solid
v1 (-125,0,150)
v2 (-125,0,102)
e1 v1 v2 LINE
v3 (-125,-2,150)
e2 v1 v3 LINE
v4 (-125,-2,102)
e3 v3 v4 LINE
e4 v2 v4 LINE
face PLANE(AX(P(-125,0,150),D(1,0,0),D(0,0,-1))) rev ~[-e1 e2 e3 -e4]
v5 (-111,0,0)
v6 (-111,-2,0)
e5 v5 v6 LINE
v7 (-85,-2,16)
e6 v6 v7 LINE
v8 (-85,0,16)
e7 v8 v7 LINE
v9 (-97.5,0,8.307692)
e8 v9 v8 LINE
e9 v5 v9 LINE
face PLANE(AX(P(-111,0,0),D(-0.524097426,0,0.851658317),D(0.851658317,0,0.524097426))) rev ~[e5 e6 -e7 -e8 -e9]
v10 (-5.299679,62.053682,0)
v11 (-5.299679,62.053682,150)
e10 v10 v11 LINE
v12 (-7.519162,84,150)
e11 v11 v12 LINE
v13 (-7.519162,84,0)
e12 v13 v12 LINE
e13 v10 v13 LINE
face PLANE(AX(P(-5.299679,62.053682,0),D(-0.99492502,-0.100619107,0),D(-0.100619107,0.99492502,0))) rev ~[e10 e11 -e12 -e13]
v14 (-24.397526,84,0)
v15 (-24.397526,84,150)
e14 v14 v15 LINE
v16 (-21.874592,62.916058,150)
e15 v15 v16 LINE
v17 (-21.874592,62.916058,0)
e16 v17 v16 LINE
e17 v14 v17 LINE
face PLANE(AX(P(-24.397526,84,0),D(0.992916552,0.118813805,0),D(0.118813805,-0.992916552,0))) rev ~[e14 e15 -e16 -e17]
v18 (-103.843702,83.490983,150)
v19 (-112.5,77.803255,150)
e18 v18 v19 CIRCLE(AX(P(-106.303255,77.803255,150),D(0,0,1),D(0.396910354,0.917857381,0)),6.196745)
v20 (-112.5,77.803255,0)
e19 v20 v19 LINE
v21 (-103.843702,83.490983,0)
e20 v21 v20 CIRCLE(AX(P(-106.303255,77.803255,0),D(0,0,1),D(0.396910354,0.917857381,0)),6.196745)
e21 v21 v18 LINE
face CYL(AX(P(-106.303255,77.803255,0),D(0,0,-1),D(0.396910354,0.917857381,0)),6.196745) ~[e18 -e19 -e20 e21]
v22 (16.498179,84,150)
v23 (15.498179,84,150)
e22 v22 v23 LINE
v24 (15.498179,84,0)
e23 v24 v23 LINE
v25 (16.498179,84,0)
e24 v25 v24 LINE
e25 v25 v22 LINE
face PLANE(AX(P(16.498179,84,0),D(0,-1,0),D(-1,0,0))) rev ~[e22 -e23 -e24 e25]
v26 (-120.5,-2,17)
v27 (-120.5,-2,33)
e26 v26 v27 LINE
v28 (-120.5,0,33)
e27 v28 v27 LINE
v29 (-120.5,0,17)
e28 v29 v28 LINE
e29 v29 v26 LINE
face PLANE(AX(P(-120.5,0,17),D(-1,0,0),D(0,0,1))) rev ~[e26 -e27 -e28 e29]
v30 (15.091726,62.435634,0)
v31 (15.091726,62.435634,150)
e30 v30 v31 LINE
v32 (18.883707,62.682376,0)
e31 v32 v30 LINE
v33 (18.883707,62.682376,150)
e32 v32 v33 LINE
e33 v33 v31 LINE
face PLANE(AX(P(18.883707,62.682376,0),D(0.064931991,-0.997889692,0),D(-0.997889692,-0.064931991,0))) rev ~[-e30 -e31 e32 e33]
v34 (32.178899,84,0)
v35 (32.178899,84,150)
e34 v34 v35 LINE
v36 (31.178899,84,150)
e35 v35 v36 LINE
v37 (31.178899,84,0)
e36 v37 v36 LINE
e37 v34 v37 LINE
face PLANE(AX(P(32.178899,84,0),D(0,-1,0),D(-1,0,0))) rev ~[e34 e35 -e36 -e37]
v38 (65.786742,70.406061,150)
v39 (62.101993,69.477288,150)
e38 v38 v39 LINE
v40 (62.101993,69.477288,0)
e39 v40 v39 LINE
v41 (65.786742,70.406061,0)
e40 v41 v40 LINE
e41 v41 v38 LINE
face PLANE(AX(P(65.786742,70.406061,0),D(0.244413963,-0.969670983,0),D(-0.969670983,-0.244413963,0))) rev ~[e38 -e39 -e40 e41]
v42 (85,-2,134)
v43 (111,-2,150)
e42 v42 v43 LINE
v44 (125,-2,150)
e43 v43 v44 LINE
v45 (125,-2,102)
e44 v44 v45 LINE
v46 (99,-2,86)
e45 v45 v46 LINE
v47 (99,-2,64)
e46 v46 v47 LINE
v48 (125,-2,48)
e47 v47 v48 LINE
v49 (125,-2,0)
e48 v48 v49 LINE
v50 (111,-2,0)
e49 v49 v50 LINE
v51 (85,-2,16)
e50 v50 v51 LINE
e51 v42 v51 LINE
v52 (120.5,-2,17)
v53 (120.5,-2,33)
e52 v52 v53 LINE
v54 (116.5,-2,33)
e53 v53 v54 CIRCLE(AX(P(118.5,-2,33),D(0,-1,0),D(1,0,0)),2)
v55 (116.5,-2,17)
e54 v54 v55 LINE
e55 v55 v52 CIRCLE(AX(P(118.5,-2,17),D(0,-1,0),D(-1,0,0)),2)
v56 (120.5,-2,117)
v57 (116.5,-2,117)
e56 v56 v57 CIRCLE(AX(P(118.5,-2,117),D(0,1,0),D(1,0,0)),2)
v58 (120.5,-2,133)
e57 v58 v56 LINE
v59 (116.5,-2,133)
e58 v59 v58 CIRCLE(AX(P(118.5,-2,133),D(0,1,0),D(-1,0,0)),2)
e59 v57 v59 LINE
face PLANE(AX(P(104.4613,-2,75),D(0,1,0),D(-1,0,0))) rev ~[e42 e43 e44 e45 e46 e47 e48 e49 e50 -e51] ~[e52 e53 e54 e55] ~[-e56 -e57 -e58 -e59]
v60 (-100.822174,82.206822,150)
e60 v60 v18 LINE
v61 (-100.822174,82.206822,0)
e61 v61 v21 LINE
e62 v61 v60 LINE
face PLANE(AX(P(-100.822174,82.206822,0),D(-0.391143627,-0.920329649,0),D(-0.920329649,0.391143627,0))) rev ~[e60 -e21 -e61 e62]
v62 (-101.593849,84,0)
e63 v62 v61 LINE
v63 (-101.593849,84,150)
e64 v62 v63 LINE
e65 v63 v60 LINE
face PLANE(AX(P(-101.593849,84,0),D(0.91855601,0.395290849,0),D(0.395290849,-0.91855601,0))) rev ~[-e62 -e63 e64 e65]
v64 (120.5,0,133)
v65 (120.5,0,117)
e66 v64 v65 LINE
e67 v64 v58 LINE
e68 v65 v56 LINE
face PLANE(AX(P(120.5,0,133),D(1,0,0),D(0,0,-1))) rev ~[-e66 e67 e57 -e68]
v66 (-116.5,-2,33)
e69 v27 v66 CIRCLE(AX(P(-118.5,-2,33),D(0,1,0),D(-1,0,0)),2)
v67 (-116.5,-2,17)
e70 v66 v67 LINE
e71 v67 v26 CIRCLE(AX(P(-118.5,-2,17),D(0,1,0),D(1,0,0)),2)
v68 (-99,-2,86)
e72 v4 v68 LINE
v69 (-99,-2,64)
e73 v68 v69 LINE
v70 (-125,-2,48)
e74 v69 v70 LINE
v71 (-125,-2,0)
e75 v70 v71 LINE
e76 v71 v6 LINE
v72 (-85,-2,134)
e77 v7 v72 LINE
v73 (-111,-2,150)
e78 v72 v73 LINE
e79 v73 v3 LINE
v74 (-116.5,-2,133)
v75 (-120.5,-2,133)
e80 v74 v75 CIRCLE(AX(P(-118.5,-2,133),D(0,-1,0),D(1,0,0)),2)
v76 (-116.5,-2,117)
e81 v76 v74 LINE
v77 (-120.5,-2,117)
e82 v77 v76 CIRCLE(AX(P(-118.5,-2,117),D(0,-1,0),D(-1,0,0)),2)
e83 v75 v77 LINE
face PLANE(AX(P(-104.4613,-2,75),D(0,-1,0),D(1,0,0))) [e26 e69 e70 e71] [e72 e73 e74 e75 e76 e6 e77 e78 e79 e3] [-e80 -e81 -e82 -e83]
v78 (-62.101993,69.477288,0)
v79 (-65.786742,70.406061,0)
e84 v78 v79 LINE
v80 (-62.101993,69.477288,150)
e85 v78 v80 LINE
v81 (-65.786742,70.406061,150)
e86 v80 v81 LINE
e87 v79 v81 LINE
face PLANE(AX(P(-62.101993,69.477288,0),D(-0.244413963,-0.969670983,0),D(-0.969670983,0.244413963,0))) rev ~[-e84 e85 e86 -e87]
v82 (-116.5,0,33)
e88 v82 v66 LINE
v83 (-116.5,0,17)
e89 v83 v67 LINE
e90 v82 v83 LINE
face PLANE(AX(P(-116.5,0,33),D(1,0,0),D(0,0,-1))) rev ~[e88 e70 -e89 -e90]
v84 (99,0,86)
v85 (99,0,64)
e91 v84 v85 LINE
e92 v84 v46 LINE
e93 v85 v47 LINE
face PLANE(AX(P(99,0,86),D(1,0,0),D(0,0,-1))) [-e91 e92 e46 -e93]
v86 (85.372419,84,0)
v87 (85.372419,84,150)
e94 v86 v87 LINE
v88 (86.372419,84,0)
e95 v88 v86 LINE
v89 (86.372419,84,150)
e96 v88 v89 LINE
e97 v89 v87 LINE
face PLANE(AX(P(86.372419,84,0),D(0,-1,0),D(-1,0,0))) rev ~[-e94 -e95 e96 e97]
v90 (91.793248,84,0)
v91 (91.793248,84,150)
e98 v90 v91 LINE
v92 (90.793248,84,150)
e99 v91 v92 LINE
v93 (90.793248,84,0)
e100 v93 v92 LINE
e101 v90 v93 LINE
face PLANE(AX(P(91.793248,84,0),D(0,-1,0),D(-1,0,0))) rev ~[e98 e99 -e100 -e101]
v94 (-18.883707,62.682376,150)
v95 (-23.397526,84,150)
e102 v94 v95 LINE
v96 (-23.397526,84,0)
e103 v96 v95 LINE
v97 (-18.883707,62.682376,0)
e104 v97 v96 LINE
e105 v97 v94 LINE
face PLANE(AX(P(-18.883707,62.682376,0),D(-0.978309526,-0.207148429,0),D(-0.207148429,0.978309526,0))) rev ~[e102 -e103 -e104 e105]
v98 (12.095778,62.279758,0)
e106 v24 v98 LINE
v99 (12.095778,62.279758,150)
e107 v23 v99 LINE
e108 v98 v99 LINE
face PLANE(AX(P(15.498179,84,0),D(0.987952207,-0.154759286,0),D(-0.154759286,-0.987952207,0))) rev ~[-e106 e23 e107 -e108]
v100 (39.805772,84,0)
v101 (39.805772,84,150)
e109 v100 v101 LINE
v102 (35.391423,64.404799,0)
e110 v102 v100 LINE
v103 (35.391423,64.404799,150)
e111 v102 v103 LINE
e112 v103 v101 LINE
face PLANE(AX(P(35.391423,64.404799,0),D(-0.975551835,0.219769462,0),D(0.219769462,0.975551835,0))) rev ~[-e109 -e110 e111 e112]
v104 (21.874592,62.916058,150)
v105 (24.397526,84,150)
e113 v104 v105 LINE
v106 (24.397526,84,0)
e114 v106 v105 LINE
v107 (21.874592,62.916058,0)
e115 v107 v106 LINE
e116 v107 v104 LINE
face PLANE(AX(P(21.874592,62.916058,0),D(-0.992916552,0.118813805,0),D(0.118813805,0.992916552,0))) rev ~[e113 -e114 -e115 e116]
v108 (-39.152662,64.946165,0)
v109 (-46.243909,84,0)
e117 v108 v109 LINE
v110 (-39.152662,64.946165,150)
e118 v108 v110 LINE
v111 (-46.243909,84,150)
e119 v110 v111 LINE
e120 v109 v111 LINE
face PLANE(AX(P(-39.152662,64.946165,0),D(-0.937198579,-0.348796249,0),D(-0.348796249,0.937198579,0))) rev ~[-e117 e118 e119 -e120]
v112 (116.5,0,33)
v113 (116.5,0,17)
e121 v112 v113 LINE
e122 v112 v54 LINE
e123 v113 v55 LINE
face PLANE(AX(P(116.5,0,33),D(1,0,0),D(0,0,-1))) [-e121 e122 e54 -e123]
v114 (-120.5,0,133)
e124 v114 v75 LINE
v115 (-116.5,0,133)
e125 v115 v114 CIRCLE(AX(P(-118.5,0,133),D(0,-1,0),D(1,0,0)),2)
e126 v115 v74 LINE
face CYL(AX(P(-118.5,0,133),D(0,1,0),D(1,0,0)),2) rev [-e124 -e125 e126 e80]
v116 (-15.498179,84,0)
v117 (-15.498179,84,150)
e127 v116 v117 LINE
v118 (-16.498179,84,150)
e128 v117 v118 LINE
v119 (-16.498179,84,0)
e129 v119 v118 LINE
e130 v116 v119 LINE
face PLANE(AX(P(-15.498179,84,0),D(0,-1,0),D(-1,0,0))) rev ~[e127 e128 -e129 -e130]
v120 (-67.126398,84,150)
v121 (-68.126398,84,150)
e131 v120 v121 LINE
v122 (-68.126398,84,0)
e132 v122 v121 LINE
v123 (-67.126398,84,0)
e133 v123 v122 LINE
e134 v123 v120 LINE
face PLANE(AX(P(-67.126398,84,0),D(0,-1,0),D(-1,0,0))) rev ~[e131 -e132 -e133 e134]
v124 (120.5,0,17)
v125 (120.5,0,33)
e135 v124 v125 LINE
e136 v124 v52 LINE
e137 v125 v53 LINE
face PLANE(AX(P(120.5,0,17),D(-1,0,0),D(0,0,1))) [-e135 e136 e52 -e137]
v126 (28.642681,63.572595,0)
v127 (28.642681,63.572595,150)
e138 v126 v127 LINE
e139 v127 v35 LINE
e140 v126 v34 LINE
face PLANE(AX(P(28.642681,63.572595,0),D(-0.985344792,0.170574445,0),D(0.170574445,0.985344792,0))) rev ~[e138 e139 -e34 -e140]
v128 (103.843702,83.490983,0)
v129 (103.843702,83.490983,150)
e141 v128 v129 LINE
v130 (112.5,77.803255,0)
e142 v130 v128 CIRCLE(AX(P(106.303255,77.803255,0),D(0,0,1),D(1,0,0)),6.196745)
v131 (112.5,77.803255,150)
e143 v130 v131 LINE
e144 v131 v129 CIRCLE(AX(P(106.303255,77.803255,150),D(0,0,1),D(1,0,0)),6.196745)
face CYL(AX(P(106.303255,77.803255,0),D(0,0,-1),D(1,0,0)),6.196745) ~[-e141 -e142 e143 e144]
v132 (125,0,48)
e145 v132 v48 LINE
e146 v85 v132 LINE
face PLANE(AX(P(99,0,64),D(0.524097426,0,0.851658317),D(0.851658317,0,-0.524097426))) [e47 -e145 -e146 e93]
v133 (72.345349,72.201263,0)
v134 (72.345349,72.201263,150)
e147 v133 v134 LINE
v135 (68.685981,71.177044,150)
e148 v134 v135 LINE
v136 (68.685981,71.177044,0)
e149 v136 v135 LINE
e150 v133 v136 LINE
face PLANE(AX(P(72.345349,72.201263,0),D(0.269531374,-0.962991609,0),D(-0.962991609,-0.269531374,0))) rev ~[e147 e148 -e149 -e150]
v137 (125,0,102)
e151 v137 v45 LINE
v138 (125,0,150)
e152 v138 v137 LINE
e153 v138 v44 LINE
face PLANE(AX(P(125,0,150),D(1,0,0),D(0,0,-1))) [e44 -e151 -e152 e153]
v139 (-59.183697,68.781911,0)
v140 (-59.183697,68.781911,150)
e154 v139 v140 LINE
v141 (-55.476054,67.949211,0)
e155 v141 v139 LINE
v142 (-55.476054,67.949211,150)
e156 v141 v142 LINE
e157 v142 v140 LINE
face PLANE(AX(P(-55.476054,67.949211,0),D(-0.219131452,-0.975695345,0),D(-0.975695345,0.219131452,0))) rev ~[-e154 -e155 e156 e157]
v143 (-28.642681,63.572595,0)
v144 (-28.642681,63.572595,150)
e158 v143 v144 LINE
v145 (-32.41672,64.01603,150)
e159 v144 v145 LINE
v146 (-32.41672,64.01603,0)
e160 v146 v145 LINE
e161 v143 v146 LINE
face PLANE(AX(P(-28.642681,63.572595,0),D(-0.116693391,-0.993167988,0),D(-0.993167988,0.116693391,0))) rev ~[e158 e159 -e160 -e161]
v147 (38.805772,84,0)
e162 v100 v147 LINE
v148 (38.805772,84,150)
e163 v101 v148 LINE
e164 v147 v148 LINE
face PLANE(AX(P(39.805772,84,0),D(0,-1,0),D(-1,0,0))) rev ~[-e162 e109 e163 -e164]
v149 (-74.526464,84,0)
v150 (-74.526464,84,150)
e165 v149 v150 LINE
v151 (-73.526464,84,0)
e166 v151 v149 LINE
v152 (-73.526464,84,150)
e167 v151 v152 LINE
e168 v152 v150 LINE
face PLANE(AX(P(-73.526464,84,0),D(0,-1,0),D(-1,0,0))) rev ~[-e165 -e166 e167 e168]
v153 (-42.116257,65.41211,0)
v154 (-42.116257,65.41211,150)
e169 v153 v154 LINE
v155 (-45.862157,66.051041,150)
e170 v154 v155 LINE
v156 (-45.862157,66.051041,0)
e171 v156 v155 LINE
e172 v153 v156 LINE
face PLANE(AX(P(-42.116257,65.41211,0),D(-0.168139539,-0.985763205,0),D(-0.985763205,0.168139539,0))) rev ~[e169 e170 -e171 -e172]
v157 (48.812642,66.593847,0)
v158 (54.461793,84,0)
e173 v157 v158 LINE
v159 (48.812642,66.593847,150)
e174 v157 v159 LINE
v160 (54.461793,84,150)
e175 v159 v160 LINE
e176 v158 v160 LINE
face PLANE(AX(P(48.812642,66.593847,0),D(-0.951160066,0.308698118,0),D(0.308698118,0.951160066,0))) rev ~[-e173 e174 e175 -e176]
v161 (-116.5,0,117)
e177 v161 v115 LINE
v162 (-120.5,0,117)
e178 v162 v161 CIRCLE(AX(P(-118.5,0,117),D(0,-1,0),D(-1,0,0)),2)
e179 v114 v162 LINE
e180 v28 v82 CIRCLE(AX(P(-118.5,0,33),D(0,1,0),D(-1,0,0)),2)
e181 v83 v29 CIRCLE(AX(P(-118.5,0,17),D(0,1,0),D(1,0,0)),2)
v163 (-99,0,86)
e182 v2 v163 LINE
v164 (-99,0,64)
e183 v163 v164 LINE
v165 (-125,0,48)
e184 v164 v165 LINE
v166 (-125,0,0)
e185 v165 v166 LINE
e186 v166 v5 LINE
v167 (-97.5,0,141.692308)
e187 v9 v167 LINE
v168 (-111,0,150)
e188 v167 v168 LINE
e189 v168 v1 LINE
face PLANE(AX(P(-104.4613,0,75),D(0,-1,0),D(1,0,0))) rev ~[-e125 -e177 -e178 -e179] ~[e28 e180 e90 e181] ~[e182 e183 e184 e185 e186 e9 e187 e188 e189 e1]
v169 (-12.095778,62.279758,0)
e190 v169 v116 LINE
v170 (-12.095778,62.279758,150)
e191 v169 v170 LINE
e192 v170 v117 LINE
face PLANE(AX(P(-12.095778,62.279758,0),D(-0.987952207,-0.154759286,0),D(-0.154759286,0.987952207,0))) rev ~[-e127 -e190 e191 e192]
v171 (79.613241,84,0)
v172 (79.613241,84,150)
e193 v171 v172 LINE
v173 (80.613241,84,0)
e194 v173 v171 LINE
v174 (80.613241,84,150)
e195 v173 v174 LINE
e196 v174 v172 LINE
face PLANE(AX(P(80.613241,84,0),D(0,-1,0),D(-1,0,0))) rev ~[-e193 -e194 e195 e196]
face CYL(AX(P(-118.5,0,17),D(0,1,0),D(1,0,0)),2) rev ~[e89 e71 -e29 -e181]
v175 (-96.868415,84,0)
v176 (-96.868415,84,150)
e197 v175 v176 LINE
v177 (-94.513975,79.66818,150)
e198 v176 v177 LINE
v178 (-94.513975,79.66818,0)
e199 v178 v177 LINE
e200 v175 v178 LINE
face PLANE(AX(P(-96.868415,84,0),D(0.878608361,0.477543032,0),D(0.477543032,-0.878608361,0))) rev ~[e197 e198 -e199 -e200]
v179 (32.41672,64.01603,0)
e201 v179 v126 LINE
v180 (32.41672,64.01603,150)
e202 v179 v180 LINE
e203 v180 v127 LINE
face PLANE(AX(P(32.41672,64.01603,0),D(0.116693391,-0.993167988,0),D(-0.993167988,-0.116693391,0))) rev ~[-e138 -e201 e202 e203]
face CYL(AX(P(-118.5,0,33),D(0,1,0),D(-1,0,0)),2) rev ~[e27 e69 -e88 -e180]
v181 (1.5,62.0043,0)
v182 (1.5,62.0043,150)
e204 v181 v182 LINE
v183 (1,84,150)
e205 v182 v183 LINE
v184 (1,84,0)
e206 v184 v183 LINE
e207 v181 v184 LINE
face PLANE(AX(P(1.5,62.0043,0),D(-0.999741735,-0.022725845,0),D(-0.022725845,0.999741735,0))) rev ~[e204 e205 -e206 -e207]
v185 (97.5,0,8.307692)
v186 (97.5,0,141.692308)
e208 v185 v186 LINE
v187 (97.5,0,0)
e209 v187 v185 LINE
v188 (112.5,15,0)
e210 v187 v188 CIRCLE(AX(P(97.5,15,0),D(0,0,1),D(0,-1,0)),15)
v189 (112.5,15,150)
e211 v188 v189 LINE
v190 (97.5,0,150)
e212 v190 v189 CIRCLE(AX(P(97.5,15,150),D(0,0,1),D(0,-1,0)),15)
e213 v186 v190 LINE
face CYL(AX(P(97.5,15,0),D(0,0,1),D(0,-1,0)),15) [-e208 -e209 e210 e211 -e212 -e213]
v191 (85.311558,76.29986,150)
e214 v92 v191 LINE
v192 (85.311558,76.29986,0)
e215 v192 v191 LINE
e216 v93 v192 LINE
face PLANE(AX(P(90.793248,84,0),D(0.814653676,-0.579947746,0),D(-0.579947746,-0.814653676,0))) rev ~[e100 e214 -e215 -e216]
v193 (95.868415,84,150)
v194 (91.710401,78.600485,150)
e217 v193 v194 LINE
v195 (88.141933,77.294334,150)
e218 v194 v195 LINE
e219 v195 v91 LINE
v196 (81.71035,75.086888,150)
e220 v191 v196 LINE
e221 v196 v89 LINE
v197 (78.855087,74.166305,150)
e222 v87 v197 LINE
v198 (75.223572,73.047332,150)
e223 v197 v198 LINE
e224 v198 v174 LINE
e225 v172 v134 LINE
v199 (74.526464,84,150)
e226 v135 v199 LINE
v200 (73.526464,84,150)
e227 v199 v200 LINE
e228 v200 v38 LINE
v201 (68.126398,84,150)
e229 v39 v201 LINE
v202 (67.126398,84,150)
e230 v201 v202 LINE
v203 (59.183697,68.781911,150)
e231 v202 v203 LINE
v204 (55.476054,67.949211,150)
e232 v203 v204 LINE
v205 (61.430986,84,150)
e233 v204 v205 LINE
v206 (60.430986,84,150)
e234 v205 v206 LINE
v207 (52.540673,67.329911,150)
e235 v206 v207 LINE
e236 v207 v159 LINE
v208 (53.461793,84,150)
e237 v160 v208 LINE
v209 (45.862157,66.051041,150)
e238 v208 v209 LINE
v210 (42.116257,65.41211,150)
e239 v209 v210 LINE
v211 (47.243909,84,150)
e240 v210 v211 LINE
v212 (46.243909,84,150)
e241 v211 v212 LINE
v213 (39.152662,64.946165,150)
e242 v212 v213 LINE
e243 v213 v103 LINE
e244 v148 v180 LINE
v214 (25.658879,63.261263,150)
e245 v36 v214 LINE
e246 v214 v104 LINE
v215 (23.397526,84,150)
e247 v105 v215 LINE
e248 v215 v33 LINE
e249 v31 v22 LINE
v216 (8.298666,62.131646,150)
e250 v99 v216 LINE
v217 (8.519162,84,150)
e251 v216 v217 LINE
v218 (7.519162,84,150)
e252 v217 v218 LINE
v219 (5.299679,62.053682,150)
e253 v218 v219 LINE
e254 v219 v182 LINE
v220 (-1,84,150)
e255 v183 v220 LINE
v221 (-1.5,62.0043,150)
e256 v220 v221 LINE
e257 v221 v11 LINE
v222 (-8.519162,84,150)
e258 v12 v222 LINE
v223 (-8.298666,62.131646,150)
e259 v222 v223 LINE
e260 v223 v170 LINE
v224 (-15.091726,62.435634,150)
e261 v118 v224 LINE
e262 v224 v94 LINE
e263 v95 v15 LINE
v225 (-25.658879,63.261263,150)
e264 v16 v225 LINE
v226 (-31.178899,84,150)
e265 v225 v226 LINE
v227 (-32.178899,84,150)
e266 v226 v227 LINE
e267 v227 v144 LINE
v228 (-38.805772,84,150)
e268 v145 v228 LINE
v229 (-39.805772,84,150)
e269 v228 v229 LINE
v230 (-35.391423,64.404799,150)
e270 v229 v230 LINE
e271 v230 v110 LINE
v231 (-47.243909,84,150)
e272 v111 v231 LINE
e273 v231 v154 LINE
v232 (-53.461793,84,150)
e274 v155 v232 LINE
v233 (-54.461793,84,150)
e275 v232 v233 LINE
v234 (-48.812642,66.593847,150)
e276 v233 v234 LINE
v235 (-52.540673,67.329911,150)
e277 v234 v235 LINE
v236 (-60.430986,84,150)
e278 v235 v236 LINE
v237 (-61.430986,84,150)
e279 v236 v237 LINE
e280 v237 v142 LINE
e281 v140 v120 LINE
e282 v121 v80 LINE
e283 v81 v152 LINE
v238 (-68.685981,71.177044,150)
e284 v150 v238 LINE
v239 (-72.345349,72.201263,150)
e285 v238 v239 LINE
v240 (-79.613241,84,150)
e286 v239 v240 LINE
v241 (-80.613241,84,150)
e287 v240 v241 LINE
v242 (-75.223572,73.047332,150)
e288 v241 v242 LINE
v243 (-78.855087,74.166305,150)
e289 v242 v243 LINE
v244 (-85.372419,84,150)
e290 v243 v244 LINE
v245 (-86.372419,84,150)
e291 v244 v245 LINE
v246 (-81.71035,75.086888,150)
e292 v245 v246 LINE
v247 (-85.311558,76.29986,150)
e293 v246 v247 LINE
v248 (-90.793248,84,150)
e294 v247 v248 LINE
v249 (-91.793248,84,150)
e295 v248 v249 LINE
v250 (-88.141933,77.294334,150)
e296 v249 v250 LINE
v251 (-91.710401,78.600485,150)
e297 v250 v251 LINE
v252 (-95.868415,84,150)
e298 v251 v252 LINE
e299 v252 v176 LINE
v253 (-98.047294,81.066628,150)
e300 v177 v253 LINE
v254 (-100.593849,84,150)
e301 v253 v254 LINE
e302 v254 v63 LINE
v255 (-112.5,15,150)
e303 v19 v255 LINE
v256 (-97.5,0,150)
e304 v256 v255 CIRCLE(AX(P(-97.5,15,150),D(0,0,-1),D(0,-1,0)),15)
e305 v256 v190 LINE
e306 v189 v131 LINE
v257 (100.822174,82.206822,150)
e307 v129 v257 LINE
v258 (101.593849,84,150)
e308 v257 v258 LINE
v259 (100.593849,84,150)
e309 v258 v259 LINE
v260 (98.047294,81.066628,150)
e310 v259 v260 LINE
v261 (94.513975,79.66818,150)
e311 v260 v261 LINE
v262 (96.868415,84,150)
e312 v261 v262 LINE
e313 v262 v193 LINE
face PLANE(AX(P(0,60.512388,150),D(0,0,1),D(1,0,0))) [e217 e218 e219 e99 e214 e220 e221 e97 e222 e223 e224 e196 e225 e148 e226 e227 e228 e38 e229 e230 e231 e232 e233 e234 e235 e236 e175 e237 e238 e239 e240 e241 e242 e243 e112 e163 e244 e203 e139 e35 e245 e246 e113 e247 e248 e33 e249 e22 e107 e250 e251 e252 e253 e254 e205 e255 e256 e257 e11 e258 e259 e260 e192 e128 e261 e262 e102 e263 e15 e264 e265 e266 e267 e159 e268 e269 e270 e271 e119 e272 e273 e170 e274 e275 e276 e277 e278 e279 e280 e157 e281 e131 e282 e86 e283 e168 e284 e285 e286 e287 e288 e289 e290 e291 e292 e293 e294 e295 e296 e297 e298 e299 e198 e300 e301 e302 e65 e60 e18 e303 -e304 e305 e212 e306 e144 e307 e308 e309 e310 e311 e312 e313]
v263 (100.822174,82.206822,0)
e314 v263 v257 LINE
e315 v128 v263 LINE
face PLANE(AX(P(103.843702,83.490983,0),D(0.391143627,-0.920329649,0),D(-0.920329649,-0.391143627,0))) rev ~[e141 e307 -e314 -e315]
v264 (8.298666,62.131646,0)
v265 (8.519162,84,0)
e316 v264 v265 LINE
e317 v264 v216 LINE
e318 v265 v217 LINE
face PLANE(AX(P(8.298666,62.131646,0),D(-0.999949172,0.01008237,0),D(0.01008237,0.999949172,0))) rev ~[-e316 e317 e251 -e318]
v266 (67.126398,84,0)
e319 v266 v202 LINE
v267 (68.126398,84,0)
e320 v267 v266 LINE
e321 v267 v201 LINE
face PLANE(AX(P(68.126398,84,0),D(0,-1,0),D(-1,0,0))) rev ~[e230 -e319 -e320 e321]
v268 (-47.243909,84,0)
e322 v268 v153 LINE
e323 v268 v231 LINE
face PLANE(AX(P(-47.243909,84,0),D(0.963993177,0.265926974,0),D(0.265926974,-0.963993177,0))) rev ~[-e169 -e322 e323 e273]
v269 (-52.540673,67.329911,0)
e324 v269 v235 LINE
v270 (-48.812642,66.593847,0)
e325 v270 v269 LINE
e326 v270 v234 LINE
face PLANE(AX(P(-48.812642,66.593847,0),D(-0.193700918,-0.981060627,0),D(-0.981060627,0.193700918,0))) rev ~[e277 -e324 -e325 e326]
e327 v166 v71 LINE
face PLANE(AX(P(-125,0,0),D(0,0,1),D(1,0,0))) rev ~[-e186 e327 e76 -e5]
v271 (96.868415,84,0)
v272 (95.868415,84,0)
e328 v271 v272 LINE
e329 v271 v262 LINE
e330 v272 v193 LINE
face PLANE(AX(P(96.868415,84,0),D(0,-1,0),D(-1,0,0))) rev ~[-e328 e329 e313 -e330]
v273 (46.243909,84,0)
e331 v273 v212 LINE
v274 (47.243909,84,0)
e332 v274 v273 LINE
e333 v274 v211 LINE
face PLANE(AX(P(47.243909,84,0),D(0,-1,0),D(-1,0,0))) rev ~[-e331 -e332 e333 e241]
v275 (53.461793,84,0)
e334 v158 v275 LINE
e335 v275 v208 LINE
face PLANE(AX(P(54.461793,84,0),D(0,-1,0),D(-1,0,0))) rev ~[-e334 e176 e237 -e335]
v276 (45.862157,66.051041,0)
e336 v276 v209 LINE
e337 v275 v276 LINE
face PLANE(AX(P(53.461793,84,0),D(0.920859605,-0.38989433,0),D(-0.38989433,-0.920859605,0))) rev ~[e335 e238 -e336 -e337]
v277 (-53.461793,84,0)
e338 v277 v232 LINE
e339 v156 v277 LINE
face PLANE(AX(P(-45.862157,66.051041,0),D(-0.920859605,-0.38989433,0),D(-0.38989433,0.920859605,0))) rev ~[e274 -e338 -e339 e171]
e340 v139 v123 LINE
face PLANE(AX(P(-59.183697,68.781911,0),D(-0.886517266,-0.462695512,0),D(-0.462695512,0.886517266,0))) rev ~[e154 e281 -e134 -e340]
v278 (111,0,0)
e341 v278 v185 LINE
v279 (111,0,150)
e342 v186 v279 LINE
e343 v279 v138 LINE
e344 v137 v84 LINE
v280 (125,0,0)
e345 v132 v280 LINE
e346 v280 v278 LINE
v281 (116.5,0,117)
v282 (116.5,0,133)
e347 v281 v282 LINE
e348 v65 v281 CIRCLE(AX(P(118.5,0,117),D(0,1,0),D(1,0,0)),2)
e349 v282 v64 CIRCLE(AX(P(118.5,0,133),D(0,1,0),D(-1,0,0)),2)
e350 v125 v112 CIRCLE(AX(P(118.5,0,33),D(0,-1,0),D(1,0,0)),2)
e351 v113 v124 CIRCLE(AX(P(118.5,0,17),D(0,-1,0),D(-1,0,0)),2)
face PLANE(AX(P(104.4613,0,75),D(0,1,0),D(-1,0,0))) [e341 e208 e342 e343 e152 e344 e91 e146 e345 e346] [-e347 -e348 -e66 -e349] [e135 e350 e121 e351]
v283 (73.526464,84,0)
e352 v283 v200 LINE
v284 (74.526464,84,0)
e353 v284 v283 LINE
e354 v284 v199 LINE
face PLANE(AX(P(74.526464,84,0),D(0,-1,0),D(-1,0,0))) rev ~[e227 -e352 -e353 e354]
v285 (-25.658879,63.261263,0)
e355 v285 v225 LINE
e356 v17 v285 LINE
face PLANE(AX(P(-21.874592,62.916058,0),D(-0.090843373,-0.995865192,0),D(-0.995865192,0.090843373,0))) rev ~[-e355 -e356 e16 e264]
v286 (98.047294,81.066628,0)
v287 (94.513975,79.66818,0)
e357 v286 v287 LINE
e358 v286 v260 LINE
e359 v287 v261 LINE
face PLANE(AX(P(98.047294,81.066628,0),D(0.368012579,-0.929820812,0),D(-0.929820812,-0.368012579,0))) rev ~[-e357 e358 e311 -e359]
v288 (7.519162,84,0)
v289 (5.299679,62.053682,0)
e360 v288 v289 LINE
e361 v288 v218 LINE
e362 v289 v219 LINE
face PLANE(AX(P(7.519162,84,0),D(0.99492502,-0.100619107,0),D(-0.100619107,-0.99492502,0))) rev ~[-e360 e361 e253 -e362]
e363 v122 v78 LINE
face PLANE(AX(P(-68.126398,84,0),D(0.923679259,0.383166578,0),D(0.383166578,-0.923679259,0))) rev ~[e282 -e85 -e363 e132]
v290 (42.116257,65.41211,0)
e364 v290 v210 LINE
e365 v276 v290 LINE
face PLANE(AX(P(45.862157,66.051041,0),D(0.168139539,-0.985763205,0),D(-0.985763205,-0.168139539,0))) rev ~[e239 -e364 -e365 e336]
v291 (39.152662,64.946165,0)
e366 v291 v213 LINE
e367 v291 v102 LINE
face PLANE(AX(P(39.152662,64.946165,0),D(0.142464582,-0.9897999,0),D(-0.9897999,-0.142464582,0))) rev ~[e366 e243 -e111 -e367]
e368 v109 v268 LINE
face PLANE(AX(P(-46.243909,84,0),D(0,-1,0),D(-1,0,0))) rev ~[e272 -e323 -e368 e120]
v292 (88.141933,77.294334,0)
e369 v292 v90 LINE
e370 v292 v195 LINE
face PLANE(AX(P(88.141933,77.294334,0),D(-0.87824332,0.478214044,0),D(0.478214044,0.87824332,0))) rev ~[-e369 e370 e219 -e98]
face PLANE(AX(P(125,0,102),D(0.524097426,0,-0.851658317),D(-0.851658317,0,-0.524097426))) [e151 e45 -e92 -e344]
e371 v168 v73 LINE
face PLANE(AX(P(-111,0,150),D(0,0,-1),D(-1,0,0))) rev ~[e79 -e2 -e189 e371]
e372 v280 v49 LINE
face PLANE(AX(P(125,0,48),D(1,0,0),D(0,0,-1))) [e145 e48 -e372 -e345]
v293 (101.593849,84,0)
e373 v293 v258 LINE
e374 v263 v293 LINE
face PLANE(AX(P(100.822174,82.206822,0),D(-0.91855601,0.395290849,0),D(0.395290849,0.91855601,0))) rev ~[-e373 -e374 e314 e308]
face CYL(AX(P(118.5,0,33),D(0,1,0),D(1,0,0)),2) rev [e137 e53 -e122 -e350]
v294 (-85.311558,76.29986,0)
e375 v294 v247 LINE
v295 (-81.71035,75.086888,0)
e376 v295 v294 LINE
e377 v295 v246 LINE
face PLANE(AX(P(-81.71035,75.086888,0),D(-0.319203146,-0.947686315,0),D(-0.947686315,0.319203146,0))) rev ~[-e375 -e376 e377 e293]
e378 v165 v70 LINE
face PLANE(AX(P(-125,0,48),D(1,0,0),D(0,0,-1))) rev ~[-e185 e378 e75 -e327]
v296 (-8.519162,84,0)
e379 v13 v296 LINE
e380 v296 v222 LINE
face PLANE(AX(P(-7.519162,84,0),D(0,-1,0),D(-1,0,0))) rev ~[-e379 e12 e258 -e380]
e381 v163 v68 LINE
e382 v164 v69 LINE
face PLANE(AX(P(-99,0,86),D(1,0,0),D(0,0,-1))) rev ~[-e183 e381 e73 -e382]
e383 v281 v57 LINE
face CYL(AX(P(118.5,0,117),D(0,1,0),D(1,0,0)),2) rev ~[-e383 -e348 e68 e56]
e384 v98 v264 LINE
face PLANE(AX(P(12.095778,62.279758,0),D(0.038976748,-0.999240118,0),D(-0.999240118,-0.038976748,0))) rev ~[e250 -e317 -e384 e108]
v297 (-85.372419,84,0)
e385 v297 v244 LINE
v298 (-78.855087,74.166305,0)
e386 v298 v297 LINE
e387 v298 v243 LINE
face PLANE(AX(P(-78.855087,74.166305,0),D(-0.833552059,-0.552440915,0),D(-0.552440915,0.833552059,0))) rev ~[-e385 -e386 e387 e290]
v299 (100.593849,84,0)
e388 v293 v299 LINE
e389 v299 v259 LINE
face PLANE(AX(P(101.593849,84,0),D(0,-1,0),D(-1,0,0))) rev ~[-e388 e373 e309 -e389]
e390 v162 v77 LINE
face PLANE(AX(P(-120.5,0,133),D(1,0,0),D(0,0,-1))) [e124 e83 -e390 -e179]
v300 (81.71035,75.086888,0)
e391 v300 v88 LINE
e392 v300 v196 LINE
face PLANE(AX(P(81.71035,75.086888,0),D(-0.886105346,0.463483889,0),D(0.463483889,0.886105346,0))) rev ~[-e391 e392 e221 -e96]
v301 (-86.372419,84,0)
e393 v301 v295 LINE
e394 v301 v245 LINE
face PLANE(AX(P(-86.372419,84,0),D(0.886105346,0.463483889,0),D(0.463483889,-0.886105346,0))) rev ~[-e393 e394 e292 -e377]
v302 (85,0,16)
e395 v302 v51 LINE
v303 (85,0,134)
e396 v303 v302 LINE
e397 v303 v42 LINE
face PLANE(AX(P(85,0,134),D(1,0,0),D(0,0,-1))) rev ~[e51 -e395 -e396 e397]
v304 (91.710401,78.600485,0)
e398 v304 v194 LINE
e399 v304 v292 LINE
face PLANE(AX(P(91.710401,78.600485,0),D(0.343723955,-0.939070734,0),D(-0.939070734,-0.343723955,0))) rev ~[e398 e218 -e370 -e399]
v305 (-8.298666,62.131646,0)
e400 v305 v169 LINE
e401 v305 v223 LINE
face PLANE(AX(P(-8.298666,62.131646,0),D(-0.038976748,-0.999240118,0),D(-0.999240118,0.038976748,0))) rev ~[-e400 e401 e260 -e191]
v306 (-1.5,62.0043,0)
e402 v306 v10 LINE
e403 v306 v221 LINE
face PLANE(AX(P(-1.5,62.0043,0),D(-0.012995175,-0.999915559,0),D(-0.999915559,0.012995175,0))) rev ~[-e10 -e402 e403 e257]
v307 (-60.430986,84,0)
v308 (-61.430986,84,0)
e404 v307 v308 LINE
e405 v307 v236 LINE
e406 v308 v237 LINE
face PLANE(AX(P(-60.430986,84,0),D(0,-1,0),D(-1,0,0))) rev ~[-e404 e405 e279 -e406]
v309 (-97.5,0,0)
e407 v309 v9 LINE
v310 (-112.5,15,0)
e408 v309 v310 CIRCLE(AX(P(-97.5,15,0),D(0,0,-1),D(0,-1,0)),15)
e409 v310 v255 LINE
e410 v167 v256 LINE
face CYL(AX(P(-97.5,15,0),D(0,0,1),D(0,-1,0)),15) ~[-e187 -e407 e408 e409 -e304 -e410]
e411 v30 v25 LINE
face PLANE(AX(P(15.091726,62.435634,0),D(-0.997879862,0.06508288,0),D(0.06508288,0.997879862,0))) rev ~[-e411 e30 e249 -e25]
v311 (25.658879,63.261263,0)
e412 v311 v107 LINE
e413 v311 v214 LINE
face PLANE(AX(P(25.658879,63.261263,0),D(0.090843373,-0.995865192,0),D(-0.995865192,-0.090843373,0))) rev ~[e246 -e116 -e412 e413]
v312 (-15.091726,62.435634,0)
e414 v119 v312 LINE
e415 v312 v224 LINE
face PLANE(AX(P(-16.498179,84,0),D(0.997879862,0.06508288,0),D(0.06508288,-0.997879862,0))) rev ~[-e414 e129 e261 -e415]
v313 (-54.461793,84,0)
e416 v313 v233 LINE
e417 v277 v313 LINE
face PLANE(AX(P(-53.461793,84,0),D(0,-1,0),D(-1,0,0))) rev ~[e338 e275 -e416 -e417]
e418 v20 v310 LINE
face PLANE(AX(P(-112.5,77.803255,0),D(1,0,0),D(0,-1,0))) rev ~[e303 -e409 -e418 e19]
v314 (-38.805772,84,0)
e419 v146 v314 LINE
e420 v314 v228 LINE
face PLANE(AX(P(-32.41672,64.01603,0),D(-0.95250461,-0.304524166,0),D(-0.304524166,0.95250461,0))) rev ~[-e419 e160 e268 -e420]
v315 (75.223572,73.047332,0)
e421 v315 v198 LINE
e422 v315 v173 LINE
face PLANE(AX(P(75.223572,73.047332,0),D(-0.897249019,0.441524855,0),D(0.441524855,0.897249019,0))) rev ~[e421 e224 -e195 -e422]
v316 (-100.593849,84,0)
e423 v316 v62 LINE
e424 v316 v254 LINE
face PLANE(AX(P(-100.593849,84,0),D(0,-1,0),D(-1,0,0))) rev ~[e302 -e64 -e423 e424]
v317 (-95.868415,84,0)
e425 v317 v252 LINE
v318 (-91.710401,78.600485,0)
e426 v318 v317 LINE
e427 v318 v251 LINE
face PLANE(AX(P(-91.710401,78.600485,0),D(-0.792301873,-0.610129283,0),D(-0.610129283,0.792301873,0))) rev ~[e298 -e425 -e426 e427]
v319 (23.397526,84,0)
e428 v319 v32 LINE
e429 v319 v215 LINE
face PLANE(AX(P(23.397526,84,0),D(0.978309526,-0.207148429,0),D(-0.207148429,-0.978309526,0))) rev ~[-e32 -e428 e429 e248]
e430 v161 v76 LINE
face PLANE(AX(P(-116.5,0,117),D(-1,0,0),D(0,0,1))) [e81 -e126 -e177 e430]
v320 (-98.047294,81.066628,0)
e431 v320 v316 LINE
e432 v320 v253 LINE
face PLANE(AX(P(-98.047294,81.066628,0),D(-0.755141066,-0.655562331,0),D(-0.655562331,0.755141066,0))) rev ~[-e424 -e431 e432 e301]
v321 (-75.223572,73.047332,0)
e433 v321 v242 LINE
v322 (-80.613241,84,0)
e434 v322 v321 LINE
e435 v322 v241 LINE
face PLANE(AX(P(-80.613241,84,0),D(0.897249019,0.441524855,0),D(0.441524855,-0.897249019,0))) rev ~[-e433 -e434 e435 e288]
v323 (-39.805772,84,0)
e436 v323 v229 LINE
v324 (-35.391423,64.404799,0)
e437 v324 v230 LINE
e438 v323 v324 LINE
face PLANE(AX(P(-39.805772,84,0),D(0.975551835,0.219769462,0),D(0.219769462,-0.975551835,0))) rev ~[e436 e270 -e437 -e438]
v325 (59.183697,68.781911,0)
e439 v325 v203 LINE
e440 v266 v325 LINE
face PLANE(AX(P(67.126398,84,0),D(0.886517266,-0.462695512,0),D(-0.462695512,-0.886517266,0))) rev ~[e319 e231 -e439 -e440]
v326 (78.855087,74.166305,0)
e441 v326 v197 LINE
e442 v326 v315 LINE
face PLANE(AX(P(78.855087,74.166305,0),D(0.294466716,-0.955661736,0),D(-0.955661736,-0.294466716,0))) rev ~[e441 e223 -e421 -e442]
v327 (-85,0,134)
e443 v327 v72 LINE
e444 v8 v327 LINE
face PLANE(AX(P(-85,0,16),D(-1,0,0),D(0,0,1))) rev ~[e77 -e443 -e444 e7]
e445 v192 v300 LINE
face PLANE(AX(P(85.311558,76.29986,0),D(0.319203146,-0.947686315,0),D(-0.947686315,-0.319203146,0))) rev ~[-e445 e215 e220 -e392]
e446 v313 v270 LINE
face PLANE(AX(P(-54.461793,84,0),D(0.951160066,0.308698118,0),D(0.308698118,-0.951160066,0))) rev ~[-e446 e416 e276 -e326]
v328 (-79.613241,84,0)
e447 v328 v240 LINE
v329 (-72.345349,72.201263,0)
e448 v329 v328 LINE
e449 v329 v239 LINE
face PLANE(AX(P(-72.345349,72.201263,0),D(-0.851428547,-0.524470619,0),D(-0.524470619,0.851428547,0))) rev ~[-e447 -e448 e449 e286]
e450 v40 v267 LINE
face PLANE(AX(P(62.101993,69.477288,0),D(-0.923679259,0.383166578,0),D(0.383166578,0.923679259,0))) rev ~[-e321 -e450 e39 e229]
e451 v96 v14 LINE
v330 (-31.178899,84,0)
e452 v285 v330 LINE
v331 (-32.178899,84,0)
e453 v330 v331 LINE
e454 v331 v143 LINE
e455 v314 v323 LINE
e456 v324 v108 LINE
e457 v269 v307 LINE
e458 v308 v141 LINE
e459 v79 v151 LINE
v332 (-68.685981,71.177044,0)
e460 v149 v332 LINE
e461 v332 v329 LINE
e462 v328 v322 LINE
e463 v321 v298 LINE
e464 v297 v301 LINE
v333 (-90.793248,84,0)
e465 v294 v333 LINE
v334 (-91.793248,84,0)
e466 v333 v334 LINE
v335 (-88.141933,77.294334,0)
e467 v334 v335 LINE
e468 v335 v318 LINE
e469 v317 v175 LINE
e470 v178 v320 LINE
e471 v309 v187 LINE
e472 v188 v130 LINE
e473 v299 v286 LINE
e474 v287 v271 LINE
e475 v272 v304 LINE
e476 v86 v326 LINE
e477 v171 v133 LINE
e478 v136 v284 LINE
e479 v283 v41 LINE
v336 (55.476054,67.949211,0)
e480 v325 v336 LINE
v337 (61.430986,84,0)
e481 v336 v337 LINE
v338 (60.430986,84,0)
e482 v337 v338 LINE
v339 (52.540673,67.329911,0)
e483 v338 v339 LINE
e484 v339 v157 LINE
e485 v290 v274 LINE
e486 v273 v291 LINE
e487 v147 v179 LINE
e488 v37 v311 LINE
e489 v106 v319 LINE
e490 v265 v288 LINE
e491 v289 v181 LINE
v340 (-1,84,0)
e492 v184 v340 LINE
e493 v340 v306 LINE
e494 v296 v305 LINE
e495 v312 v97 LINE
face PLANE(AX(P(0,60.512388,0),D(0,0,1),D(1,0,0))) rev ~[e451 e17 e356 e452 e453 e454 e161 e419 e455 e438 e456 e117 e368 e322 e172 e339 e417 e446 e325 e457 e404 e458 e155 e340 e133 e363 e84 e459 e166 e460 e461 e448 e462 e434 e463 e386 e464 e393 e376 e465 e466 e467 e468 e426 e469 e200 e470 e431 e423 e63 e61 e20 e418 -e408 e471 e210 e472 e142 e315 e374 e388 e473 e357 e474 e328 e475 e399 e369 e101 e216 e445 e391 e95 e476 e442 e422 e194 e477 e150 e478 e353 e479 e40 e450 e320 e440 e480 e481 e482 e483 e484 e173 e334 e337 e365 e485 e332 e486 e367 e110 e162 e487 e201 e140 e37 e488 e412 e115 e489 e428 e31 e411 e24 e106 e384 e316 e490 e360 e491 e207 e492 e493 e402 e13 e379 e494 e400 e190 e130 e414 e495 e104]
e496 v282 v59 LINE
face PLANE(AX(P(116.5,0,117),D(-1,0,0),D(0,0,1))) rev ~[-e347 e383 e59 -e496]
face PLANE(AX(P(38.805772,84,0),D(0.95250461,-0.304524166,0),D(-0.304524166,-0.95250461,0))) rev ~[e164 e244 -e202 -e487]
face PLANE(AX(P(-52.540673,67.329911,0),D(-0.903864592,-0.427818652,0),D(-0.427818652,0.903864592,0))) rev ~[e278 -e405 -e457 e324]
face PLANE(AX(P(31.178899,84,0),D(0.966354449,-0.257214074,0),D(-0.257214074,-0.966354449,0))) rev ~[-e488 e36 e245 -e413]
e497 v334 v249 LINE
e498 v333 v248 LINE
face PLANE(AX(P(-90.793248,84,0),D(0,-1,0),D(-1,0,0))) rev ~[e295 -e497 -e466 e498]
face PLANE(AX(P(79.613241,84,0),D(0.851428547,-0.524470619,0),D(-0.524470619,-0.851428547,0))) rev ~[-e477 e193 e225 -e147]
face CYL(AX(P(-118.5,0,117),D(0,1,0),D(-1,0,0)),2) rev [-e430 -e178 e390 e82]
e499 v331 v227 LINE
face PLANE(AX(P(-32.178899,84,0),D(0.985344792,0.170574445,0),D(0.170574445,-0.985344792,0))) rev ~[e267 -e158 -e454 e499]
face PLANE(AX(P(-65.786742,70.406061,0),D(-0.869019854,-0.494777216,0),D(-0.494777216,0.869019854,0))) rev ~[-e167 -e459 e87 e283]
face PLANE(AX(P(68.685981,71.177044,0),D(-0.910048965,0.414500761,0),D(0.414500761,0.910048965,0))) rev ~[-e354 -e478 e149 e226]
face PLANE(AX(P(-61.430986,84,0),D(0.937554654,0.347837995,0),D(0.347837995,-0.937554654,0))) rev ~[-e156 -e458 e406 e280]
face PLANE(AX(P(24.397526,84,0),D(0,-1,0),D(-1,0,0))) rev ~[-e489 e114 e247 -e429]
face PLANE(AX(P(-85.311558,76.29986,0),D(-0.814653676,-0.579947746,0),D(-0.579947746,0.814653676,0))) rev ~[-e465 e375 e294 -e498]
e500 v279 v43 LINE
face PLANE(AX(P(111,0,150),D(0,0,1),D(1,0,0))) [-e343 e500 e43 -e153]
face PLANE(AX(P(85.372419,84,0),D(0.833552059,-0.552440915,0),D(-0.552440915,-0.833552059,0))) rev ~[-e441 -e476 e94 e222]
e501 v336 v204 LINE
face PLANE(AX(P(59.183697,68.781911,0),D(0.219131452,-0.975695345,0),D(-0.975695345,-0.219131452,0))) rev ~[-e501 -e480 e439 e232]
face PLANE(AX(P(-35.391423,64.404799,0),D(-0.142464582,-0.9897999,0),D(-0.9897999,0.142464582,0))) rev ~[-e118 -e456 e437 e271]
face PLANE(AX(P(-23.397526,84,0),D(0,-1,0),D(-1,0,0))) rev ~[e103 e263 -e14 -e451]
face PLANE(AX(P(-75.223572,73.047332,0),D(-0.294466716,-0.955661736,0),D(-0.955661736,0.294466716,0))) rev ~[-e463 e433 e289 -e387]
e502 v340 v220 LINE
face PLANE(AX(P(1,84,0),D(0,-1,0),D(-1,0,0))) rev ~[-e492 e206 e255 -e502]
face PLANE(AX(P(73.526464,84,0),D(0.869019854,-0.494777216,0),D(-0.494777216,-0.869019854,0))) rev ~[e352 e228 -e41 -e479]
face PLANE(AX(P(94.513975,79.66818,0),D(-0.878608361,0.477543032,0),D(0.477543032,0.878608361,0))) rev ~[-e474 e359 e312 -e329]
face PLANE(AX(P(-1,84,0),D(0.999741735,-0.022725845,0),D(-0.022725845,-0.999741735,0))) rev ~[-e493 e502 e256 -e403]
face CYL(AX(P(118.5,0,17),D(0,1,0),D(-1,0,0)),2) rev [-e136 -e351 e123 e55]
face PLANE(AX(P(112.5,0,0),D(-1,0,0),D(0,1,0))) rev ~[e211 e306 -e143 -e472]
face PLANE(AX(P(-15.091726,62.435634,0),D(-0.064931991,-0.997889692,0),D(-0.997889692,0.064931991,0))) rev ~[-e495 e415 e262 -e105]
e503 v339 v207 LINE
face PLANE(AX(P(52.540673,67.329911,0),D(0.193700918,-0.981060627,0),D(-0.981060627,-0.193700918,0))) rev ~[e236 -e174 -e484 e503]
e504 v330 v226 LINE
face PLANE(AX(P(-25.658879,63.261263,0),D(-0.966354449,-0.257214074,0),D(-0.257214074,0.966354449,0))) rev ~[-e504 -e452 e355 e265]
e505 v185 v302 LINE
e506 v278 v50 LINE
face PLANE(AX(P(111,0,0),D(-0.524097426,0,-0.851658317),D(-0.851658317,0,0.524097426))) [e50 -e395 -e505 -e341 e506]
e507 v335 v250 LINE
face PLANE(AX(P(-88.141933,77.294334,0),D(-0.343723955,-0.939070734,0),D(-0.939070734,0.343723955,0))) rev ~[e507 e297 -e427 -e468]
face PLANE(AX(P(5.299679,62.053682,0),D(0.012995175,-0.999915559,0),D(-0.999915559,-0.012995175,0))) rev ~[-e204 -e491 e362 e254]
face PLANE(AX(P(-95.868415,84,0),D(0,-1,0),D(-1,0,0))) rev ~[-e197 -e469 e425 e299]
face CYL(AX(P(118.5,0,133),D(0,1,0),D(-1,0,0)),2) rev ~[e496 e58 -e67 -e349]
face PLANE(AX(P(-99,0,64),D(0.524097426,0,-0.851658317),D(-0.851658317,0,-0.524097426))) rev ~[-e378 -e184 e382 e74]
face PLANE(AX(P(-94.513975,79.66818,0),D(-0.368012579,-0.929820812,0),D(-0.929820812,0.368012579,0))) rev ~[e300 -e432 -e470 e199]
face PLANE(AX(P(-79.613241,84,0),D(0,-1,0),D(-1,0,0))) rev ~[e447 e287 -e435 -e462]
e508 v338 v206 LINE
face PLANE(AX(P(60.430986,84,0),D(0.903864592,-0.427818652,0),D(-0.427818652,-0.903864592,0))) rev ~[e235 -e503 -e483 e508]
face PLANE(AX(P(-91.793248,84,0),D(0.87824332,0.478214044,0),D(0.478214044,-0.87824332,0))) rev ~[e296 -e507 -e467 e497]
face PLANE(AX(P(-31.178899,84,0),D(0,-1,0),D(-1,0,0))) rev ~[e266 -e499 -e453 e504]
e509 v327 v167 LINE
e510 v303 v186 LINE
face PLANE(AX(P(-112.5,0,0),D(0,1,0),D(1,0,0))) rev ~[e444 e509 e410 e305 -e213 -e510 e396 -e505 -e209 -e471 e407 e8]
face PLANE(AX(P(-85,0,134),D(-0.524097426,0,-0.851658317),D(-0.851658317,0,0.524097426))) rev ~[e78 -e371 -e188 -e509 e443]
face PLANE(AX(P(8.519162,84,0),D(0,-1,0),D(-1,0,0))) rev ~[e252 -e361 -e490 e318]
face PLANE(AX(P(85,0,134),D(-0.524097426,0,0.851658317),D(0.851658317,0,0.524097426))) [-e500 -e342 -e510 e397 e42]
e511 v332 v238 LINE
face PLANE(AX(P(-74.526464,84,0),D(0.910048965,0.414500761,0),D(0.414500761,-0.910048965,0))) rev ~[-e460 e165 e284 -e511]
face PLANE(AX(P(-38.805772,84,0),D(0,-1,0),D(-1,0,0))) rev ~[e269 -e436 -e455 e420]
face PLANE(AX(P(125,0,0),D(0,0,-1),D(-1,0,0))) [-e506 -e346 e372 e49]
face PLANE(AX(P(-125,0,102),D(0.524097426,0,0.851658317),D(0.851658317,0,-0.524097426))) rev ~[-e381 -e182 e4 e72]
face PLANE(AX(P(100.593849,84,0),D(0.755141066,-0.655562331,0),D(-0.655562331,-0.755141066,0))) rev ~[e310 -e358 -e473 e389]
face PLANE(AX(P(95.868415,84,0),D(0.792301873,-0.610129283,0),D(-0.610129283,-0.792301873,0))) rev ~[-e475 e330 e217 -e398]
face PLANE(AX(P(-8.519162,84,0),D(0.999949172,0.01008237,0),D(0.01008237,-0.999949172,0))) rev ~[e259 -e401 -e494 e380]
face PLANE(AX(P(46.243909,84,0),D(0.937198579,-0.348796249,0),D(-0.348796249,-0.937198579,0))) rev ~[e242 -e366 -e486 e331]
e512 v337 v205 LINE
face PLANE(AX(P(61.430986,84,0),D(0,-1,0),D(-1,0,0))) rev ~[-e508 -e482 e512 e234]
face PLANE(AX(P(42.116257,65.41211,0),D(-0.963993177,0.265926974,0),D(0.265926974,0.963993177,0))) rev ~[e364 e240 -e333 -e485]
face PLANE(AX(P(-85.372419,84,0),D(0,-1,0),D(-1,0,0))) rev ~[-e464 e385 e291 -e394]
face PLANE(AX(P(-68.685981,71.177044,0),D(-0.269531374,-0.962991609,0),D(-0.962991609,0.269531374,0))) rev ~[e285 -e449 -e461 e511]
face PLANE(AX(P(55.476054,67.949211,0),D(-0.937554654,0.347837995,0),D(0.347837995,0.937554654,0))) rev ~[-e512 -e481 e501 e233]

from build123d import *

# Parameters (mm, degrees)
BOSS_EXTRU_1_DEPTH = 150
CONG_1_R           = 15
BOSS_EXTRU_2_DEPTH = 2


with BuildPart() as part:
    # Esquisse1 → Boss.-Extru.1 (new body)
    with BuildSketch(Plane.XY):
        with BuildLine():
            Line((-112.5, 0), (112.5, 0))
            Line((112.5, 0), (112.5, 77.803254504))
            ThreePointArc((112.5, 77.803254504), (109.706079374, 82.982099708), (103.843702056, 83.490983093))
            Line((103.843702056, 83.490983093), (100.822174185, 82.206822173))
            Line((100.822174185, 82.206822173), (101.593849269, 84))
            Line((101.593849269, 84), (100.593849269, 84))
            Line((100.593849269, 84), (98.047294459, 81.066628108))
            Line((98.047294459, 81.066628108), (94.513975375, 79.668180307))
            Line((94.513975375, 79.668180307), (96.868414967, 84))
            Line((96.868414967, 84), (95.868414967, 84))
            Line((95.868414967, 84), (91.710401321, 78.600485349))
            Line((91.710401321, 78.600485349), (88.141932533, 77.29433432))
            Line((88.141932533, 77.29433432), (91.793248094, 84))
            Line((91.793248094, 84), (90.793248094, 84))
            Line((90.793248094, 84), (85.311557961, 76.299859694))
            Line((85.311557961, 76.299859694), (81.710349964, 75.086887739))
            Line((81.710349964, 75.086887739), (86.372418591, 84))
            Line((86.372418591, 84), (85.372418591, 84))
            Line((85.372418591, 84), (78.855086787, 74.166305212))
            Line((78.855086787, 74.166305212), (75.223572191, 73.047331693))
            Line((75.223572191, 73.047331693), (80.613241264, 84))
            Line((80.613241264, 84), (79.613241264, 84))
            Line((79.613241264, 84), (72.345349134, 72.201263116))
            Line((72.345349134, 72.201263116), (68.685981021, 71.177043896))
            Line((68.685981021, 71.177043896), (74.526463538, 84))
            Line((74.526463538, 84), (73.526463538, 84))
            Line((73.526463538, 84), (65.786742319, 70.406060788))
            Line((65.786742319, 70.406060788), (62.101992586, 69.477287727))
            Line((62.101992586, 69.477287727), (68.126397614, 84))
            Line((68.126397614, 84), (67.126397614, 84))
            Line((67.126397614, 84), (59.183696671, 68.781910885))
            Line((59.183696671, 68.781910885), (55.476054359, 67.949211366))
            Line((55.476054359, 67.949211366), (61.430986278, 84))
            Line((61.430986278, 84), (60.430986278, 84))
            Line((60.430986278, 84), (52.540672534, 67.329910517))
            Line((52.540672534, 67.329910517), (48.81264215, 66.593847028))
            Line((48.81264215, 66.593847028), (54.461792967, 84))
            Line((54.461792967, 84), (53.461792967, 84))
            Line((53.461792967, 84), (45.862157261, 66.051040507))
            Line((45.862157261, 66.051040507), (42.116257084, 65.412110258))
            Line((42.116257084, 65.412110258), (47.243908802, 84))
            Line((47.243908802, 84), (46.243908802, 84))
            Line((46.243908802, 84), (39.152662178, 64.946164731))
            Line((39.152662178, 64.946164731), (35.391422557, 64.404799318))
            Line((35.391422557, 64.404799318), (39.805772012, 84))
            Line((39.805772012, 84), (38.805772012, 84))
            Line((38.805772012, 84), (32.416719538, 64.01602953))
            Line((32.416719538, 64.01602953), (28.642681183, 63.572594644))
            Line((28.642681183, 63.572594644), (32.178898512, 84))
            Line((32.178898512, 84), (31.178898512, 84))
            Line((31.178898512, 84), (25.658879458, 63.261263209))
            Line((25.658879458, 63.261263209), (21.874591726, 62.91605839))
            Line((21.874591726, 62.91605839), (24.397526133, 84))
            Line((24.397526133, 84), (23.397526133, 84))
            Line((23.397526133, 84), (18.883706848, 62.682375611))
            Line((18.883706848, 62.682375611), (15.09172602, 62.435634044))
            Line((15.09172602, 62.435634044), (16.498178932, 84))
            Line((16.498178932, 84), (15.498178932, 84))
            Line((15.498178932, 84), (12.095778325, 62.279757774))
            Line((12.095778325, 62.279757774), (8.298665877, 62.131646133))
            Line((8.298665877, 62.131646133), (8.519161913, 84))
            Line((8.519161913, 84), (7.519161913, 84))
            Line((7.519161913, 84), (5.299679125, 62.053681665))
            Line((5.299679125, 62.053681665), (1.5, 62.004299999))
            Line((1.5, 62.004299999), (1, 84))
            Line((1, 84), (-1, 84))
            Line((-1, 84), (-1.5, 62.004299999))
            Line((-1.5, 62.004299999), (-5.299679125, 62.053681665))
            Line((-5.299679125, 62.053681665), (-7.519161913, 84))
            Line((-7.519161913, 84), (-8.519161913, 84))
            Line((-8.519161913, 84), (-8.298665877, 62.131646133))
            Line((-8.298665877, 62.131646133), (-12.095778325, 62.279757774))
            Line((-12.095778325, 62.279757774), (-15.498178932, 84))
            Line((-15.498178932, 84), (-16.498178932, 84))
            Line((-16.498178932, 84), (-15.09172602, 62.435634044))
            Line((-15.09172602, 62.435634044), (-18.883706848, 62.682375611))
            Line((-18.883706848, 62.682375611), (-23.397526133, 84))
            Line((-23.397526133, 84), (-24.397526133, 84))
            Line((-24.397526133, 84), (-21.874591726, 62.91605839))
            Line((-21.874591726, 62.91605839), (-25.658879458, 63.261263209))
            Line((-25.658879458, 63.261263209), (-31.178898512, 84))
            Line((-31.178898512, 84), (-32.178898512, 84))
            Line((-32.178898512, 84), (-28.642681183, 63.572594644))
            Line((-28.642681183, 63.572594644), (-32.416719538, 64.01602953))
            Line((-32.416719538, 64.01602953), (-38.805772012, 84))
            Line((-38.805772012, 84), (-39.805772012, 84))
            Line((-39.805772012, 84), (-35.391422557, 64.404799318))
            Line((-35.391422557, 64.404799318), (-39.152662178, 64.946164731))
            Line((-39.152662178, 64.946164731), (-46.243908802, 84))
            Line((-46.243908802, 84), (-47.243908802, 84))
            Line((-47.243908802, 84), (-42.116257084, 65.412110258))
            Line((-42.116257084, 65.412110258), (-45.862157261, 66.051040507))
            Line((-45.862157261, 66.051040507), (-53.461792967, 84))
            Line((-53.461792967, 84), (-54.461792967, 84))
            Line((-54.461792967, 84), (-48.81264215, 66.593847028))
            Line((-48.81264215, 66.593847028), (-52.540672534, 67.329910517))
            Line((-52.540672534, 67.329910517), (-60.430986278, 84))
            Line((-60.430986278, 84), (-61.430986278, 84))
            Line((-61.430986278, 84), (-55.476054359, 67.949211366))
            Line((-55.476054359, 67.949211366), (-59.183696671, 68.781910885))
            Line((-59.183696671, 68.781910885), (-67.126397614, 84))
            Line((-67.126397614, 84), (-68.126397614, 84))
            Line((-68.126397614, 84), (-62.101992586, 69.477287727))
            Line((-62.101992586, 69.477287727), (-65.786742319, 70.406060788))
            Line((-65.786742319, 70.406060788), (-73.526463538, 84))
            Line((-73.526463538, 84), (-74.526463538, 84))
            Line((-74.526463538, 84), (-68.685981021, 71.177043896))
            Line((-68.685981021, 71.177043896), (-72.345349134, 72.201263116))
            Line((-72.345349134, 72.201263116), (-79.613241264, 84))
            Line((-79.613241264, 84), (-80.613241264, 84))
            Line((-80.613241264, 84), (-75.223572191, 73.047331693))
            Line((-75.223572191, 73.047331693), (-78.855086787, 74.166305212))
            Line((-78.855086787, 74.166305212), (-85.372418591, 84))
            Line((-85.372418591, 84), (-86.372418591, 84))
            Line((-86.372418591, 84), (-81.710349964, 75.086887739))
            Line((-81.710349964, 75.086887739), (-85.311557961, 76.299859694))
            Line((-85.311557961, 76.299859694), (-90.793248094, 84))
            Line((-90.793248094, 84), (-91.793248094, 84))
            Line((-91.793248094, 84), (-88.141932533, 77.29433432))
            Line((-88.141932533, 77.29433432), (-91.710401321, 78.600485349))
            Line((-91.710401321, 78.600485349), (-95.868414967, 84))
            Line((-95.868414967, 84), (-96.868414967, 84))
            Line((-96.868414967, 84), (-94.513975375, 79.668180307))
            Line((-94.513975375, 79.668180307), (-98.047294459, 81.066628108))
            Line((-98.047294459, 81.066628108), (-100.593849269, 84))
            Line((-100.593849269, 84), (-101.593849269, 84))
            Line((-101.593849269, 84), (-100.822174185, 82.206822173))
            Line((-100.822174185, 82.206822173), (-103.843702056, 83.490983093))
            ThreePointArc((-103.843702056, 83.490983093), (-109.706079374, 82.982099708), (-112.5, 77.803254504))
            Line((-112.5, 77.803254504), (-112.5, 0))
        make_face()
    extrude(amount=BOSS_EXTRU_1_DEPTH)

    # Congé1
    cong_1_edges = [part.edges().sort_by_distance(p)[0] for p in [
        (112.5, 0, 75),
        (-112.5, 0, 75),
    ]]
    fillet(cong_1_edges, radius=CONG_1_R)

    # Esquisse2 → Boss.-Extru.2 (add)
    # profile 1 of 2: a face of its own
    with BuildSketch(Plane.XZ):
        Polygon((85, 134), (111, 150), (125, 150), (125, 102), (99, 86), (99, 64), (125, 48), (125, 0), (111, 0), (85, 16), (85, 34.748316978), align=None)
        with BuildLine():
            Line((120.5, 133), (120.5, 117))
            ThreePointArc((120.5, 117), (118.5, 115), (116.5, 117))
            Line((116.5, 117), (116.5, 133))
            ThreePointArc((116.5, 133), (118.5, 135), (120.5, 133))
        make_face(mode=Mode.SUBTRACT)
        with BuildLine():
            Line((120.5, 17), (120.5, 33))
            ThreePointArc((120.5, 33), (118.5, 35), (116.5, 33))
            Line((116.5, 33), (116.5, 17))
            ThreePointArc((116.5, 17), (118.5, 15), (120.5, 17))
        make_face(mode=Mode.SUBTRACT)
    # profile 2 of 2: a face of its own
    with BuildSketch(Plane.XZ):
        Polygon((-85, 34.748316978), (-85, 134), (-111, 150), (-125, 150), (-125, 102), (-99, 86), (-99, 64), (-125, 48), (-125, 0), (-111, 0), (-85, 16), align=None)
        with BuildLine():
            Line((-120.5, 133), (-120.5, 117))
            ThreePointArc((-120.5, 117), (-118.5, 115), (-116.5, 117))
            Line((-116.5, 117), (-116.5, 133))
            ThreePointArc((-116.5, 133), (-118.5, 135), (-120.5, 133))
        make_face(mode=Mode.SUBTRACT)
        with BuildLine():
            Line((-120.5, 17), (-120.5, 33))
            ThreePointArc((-120.5, 33), (-118.5, 35), (-116.5, 33))
            Line((-116.5, 33), (-116.5, 17))
            ThreePointArc((-116.5, 17), (-118.5, 15), (-120.5, 17))
        make_face(mode=Mode.SUBTRACT)
    extrude(amount=BOSS_EXTRU_2_DEPTH)


solid = part.part
